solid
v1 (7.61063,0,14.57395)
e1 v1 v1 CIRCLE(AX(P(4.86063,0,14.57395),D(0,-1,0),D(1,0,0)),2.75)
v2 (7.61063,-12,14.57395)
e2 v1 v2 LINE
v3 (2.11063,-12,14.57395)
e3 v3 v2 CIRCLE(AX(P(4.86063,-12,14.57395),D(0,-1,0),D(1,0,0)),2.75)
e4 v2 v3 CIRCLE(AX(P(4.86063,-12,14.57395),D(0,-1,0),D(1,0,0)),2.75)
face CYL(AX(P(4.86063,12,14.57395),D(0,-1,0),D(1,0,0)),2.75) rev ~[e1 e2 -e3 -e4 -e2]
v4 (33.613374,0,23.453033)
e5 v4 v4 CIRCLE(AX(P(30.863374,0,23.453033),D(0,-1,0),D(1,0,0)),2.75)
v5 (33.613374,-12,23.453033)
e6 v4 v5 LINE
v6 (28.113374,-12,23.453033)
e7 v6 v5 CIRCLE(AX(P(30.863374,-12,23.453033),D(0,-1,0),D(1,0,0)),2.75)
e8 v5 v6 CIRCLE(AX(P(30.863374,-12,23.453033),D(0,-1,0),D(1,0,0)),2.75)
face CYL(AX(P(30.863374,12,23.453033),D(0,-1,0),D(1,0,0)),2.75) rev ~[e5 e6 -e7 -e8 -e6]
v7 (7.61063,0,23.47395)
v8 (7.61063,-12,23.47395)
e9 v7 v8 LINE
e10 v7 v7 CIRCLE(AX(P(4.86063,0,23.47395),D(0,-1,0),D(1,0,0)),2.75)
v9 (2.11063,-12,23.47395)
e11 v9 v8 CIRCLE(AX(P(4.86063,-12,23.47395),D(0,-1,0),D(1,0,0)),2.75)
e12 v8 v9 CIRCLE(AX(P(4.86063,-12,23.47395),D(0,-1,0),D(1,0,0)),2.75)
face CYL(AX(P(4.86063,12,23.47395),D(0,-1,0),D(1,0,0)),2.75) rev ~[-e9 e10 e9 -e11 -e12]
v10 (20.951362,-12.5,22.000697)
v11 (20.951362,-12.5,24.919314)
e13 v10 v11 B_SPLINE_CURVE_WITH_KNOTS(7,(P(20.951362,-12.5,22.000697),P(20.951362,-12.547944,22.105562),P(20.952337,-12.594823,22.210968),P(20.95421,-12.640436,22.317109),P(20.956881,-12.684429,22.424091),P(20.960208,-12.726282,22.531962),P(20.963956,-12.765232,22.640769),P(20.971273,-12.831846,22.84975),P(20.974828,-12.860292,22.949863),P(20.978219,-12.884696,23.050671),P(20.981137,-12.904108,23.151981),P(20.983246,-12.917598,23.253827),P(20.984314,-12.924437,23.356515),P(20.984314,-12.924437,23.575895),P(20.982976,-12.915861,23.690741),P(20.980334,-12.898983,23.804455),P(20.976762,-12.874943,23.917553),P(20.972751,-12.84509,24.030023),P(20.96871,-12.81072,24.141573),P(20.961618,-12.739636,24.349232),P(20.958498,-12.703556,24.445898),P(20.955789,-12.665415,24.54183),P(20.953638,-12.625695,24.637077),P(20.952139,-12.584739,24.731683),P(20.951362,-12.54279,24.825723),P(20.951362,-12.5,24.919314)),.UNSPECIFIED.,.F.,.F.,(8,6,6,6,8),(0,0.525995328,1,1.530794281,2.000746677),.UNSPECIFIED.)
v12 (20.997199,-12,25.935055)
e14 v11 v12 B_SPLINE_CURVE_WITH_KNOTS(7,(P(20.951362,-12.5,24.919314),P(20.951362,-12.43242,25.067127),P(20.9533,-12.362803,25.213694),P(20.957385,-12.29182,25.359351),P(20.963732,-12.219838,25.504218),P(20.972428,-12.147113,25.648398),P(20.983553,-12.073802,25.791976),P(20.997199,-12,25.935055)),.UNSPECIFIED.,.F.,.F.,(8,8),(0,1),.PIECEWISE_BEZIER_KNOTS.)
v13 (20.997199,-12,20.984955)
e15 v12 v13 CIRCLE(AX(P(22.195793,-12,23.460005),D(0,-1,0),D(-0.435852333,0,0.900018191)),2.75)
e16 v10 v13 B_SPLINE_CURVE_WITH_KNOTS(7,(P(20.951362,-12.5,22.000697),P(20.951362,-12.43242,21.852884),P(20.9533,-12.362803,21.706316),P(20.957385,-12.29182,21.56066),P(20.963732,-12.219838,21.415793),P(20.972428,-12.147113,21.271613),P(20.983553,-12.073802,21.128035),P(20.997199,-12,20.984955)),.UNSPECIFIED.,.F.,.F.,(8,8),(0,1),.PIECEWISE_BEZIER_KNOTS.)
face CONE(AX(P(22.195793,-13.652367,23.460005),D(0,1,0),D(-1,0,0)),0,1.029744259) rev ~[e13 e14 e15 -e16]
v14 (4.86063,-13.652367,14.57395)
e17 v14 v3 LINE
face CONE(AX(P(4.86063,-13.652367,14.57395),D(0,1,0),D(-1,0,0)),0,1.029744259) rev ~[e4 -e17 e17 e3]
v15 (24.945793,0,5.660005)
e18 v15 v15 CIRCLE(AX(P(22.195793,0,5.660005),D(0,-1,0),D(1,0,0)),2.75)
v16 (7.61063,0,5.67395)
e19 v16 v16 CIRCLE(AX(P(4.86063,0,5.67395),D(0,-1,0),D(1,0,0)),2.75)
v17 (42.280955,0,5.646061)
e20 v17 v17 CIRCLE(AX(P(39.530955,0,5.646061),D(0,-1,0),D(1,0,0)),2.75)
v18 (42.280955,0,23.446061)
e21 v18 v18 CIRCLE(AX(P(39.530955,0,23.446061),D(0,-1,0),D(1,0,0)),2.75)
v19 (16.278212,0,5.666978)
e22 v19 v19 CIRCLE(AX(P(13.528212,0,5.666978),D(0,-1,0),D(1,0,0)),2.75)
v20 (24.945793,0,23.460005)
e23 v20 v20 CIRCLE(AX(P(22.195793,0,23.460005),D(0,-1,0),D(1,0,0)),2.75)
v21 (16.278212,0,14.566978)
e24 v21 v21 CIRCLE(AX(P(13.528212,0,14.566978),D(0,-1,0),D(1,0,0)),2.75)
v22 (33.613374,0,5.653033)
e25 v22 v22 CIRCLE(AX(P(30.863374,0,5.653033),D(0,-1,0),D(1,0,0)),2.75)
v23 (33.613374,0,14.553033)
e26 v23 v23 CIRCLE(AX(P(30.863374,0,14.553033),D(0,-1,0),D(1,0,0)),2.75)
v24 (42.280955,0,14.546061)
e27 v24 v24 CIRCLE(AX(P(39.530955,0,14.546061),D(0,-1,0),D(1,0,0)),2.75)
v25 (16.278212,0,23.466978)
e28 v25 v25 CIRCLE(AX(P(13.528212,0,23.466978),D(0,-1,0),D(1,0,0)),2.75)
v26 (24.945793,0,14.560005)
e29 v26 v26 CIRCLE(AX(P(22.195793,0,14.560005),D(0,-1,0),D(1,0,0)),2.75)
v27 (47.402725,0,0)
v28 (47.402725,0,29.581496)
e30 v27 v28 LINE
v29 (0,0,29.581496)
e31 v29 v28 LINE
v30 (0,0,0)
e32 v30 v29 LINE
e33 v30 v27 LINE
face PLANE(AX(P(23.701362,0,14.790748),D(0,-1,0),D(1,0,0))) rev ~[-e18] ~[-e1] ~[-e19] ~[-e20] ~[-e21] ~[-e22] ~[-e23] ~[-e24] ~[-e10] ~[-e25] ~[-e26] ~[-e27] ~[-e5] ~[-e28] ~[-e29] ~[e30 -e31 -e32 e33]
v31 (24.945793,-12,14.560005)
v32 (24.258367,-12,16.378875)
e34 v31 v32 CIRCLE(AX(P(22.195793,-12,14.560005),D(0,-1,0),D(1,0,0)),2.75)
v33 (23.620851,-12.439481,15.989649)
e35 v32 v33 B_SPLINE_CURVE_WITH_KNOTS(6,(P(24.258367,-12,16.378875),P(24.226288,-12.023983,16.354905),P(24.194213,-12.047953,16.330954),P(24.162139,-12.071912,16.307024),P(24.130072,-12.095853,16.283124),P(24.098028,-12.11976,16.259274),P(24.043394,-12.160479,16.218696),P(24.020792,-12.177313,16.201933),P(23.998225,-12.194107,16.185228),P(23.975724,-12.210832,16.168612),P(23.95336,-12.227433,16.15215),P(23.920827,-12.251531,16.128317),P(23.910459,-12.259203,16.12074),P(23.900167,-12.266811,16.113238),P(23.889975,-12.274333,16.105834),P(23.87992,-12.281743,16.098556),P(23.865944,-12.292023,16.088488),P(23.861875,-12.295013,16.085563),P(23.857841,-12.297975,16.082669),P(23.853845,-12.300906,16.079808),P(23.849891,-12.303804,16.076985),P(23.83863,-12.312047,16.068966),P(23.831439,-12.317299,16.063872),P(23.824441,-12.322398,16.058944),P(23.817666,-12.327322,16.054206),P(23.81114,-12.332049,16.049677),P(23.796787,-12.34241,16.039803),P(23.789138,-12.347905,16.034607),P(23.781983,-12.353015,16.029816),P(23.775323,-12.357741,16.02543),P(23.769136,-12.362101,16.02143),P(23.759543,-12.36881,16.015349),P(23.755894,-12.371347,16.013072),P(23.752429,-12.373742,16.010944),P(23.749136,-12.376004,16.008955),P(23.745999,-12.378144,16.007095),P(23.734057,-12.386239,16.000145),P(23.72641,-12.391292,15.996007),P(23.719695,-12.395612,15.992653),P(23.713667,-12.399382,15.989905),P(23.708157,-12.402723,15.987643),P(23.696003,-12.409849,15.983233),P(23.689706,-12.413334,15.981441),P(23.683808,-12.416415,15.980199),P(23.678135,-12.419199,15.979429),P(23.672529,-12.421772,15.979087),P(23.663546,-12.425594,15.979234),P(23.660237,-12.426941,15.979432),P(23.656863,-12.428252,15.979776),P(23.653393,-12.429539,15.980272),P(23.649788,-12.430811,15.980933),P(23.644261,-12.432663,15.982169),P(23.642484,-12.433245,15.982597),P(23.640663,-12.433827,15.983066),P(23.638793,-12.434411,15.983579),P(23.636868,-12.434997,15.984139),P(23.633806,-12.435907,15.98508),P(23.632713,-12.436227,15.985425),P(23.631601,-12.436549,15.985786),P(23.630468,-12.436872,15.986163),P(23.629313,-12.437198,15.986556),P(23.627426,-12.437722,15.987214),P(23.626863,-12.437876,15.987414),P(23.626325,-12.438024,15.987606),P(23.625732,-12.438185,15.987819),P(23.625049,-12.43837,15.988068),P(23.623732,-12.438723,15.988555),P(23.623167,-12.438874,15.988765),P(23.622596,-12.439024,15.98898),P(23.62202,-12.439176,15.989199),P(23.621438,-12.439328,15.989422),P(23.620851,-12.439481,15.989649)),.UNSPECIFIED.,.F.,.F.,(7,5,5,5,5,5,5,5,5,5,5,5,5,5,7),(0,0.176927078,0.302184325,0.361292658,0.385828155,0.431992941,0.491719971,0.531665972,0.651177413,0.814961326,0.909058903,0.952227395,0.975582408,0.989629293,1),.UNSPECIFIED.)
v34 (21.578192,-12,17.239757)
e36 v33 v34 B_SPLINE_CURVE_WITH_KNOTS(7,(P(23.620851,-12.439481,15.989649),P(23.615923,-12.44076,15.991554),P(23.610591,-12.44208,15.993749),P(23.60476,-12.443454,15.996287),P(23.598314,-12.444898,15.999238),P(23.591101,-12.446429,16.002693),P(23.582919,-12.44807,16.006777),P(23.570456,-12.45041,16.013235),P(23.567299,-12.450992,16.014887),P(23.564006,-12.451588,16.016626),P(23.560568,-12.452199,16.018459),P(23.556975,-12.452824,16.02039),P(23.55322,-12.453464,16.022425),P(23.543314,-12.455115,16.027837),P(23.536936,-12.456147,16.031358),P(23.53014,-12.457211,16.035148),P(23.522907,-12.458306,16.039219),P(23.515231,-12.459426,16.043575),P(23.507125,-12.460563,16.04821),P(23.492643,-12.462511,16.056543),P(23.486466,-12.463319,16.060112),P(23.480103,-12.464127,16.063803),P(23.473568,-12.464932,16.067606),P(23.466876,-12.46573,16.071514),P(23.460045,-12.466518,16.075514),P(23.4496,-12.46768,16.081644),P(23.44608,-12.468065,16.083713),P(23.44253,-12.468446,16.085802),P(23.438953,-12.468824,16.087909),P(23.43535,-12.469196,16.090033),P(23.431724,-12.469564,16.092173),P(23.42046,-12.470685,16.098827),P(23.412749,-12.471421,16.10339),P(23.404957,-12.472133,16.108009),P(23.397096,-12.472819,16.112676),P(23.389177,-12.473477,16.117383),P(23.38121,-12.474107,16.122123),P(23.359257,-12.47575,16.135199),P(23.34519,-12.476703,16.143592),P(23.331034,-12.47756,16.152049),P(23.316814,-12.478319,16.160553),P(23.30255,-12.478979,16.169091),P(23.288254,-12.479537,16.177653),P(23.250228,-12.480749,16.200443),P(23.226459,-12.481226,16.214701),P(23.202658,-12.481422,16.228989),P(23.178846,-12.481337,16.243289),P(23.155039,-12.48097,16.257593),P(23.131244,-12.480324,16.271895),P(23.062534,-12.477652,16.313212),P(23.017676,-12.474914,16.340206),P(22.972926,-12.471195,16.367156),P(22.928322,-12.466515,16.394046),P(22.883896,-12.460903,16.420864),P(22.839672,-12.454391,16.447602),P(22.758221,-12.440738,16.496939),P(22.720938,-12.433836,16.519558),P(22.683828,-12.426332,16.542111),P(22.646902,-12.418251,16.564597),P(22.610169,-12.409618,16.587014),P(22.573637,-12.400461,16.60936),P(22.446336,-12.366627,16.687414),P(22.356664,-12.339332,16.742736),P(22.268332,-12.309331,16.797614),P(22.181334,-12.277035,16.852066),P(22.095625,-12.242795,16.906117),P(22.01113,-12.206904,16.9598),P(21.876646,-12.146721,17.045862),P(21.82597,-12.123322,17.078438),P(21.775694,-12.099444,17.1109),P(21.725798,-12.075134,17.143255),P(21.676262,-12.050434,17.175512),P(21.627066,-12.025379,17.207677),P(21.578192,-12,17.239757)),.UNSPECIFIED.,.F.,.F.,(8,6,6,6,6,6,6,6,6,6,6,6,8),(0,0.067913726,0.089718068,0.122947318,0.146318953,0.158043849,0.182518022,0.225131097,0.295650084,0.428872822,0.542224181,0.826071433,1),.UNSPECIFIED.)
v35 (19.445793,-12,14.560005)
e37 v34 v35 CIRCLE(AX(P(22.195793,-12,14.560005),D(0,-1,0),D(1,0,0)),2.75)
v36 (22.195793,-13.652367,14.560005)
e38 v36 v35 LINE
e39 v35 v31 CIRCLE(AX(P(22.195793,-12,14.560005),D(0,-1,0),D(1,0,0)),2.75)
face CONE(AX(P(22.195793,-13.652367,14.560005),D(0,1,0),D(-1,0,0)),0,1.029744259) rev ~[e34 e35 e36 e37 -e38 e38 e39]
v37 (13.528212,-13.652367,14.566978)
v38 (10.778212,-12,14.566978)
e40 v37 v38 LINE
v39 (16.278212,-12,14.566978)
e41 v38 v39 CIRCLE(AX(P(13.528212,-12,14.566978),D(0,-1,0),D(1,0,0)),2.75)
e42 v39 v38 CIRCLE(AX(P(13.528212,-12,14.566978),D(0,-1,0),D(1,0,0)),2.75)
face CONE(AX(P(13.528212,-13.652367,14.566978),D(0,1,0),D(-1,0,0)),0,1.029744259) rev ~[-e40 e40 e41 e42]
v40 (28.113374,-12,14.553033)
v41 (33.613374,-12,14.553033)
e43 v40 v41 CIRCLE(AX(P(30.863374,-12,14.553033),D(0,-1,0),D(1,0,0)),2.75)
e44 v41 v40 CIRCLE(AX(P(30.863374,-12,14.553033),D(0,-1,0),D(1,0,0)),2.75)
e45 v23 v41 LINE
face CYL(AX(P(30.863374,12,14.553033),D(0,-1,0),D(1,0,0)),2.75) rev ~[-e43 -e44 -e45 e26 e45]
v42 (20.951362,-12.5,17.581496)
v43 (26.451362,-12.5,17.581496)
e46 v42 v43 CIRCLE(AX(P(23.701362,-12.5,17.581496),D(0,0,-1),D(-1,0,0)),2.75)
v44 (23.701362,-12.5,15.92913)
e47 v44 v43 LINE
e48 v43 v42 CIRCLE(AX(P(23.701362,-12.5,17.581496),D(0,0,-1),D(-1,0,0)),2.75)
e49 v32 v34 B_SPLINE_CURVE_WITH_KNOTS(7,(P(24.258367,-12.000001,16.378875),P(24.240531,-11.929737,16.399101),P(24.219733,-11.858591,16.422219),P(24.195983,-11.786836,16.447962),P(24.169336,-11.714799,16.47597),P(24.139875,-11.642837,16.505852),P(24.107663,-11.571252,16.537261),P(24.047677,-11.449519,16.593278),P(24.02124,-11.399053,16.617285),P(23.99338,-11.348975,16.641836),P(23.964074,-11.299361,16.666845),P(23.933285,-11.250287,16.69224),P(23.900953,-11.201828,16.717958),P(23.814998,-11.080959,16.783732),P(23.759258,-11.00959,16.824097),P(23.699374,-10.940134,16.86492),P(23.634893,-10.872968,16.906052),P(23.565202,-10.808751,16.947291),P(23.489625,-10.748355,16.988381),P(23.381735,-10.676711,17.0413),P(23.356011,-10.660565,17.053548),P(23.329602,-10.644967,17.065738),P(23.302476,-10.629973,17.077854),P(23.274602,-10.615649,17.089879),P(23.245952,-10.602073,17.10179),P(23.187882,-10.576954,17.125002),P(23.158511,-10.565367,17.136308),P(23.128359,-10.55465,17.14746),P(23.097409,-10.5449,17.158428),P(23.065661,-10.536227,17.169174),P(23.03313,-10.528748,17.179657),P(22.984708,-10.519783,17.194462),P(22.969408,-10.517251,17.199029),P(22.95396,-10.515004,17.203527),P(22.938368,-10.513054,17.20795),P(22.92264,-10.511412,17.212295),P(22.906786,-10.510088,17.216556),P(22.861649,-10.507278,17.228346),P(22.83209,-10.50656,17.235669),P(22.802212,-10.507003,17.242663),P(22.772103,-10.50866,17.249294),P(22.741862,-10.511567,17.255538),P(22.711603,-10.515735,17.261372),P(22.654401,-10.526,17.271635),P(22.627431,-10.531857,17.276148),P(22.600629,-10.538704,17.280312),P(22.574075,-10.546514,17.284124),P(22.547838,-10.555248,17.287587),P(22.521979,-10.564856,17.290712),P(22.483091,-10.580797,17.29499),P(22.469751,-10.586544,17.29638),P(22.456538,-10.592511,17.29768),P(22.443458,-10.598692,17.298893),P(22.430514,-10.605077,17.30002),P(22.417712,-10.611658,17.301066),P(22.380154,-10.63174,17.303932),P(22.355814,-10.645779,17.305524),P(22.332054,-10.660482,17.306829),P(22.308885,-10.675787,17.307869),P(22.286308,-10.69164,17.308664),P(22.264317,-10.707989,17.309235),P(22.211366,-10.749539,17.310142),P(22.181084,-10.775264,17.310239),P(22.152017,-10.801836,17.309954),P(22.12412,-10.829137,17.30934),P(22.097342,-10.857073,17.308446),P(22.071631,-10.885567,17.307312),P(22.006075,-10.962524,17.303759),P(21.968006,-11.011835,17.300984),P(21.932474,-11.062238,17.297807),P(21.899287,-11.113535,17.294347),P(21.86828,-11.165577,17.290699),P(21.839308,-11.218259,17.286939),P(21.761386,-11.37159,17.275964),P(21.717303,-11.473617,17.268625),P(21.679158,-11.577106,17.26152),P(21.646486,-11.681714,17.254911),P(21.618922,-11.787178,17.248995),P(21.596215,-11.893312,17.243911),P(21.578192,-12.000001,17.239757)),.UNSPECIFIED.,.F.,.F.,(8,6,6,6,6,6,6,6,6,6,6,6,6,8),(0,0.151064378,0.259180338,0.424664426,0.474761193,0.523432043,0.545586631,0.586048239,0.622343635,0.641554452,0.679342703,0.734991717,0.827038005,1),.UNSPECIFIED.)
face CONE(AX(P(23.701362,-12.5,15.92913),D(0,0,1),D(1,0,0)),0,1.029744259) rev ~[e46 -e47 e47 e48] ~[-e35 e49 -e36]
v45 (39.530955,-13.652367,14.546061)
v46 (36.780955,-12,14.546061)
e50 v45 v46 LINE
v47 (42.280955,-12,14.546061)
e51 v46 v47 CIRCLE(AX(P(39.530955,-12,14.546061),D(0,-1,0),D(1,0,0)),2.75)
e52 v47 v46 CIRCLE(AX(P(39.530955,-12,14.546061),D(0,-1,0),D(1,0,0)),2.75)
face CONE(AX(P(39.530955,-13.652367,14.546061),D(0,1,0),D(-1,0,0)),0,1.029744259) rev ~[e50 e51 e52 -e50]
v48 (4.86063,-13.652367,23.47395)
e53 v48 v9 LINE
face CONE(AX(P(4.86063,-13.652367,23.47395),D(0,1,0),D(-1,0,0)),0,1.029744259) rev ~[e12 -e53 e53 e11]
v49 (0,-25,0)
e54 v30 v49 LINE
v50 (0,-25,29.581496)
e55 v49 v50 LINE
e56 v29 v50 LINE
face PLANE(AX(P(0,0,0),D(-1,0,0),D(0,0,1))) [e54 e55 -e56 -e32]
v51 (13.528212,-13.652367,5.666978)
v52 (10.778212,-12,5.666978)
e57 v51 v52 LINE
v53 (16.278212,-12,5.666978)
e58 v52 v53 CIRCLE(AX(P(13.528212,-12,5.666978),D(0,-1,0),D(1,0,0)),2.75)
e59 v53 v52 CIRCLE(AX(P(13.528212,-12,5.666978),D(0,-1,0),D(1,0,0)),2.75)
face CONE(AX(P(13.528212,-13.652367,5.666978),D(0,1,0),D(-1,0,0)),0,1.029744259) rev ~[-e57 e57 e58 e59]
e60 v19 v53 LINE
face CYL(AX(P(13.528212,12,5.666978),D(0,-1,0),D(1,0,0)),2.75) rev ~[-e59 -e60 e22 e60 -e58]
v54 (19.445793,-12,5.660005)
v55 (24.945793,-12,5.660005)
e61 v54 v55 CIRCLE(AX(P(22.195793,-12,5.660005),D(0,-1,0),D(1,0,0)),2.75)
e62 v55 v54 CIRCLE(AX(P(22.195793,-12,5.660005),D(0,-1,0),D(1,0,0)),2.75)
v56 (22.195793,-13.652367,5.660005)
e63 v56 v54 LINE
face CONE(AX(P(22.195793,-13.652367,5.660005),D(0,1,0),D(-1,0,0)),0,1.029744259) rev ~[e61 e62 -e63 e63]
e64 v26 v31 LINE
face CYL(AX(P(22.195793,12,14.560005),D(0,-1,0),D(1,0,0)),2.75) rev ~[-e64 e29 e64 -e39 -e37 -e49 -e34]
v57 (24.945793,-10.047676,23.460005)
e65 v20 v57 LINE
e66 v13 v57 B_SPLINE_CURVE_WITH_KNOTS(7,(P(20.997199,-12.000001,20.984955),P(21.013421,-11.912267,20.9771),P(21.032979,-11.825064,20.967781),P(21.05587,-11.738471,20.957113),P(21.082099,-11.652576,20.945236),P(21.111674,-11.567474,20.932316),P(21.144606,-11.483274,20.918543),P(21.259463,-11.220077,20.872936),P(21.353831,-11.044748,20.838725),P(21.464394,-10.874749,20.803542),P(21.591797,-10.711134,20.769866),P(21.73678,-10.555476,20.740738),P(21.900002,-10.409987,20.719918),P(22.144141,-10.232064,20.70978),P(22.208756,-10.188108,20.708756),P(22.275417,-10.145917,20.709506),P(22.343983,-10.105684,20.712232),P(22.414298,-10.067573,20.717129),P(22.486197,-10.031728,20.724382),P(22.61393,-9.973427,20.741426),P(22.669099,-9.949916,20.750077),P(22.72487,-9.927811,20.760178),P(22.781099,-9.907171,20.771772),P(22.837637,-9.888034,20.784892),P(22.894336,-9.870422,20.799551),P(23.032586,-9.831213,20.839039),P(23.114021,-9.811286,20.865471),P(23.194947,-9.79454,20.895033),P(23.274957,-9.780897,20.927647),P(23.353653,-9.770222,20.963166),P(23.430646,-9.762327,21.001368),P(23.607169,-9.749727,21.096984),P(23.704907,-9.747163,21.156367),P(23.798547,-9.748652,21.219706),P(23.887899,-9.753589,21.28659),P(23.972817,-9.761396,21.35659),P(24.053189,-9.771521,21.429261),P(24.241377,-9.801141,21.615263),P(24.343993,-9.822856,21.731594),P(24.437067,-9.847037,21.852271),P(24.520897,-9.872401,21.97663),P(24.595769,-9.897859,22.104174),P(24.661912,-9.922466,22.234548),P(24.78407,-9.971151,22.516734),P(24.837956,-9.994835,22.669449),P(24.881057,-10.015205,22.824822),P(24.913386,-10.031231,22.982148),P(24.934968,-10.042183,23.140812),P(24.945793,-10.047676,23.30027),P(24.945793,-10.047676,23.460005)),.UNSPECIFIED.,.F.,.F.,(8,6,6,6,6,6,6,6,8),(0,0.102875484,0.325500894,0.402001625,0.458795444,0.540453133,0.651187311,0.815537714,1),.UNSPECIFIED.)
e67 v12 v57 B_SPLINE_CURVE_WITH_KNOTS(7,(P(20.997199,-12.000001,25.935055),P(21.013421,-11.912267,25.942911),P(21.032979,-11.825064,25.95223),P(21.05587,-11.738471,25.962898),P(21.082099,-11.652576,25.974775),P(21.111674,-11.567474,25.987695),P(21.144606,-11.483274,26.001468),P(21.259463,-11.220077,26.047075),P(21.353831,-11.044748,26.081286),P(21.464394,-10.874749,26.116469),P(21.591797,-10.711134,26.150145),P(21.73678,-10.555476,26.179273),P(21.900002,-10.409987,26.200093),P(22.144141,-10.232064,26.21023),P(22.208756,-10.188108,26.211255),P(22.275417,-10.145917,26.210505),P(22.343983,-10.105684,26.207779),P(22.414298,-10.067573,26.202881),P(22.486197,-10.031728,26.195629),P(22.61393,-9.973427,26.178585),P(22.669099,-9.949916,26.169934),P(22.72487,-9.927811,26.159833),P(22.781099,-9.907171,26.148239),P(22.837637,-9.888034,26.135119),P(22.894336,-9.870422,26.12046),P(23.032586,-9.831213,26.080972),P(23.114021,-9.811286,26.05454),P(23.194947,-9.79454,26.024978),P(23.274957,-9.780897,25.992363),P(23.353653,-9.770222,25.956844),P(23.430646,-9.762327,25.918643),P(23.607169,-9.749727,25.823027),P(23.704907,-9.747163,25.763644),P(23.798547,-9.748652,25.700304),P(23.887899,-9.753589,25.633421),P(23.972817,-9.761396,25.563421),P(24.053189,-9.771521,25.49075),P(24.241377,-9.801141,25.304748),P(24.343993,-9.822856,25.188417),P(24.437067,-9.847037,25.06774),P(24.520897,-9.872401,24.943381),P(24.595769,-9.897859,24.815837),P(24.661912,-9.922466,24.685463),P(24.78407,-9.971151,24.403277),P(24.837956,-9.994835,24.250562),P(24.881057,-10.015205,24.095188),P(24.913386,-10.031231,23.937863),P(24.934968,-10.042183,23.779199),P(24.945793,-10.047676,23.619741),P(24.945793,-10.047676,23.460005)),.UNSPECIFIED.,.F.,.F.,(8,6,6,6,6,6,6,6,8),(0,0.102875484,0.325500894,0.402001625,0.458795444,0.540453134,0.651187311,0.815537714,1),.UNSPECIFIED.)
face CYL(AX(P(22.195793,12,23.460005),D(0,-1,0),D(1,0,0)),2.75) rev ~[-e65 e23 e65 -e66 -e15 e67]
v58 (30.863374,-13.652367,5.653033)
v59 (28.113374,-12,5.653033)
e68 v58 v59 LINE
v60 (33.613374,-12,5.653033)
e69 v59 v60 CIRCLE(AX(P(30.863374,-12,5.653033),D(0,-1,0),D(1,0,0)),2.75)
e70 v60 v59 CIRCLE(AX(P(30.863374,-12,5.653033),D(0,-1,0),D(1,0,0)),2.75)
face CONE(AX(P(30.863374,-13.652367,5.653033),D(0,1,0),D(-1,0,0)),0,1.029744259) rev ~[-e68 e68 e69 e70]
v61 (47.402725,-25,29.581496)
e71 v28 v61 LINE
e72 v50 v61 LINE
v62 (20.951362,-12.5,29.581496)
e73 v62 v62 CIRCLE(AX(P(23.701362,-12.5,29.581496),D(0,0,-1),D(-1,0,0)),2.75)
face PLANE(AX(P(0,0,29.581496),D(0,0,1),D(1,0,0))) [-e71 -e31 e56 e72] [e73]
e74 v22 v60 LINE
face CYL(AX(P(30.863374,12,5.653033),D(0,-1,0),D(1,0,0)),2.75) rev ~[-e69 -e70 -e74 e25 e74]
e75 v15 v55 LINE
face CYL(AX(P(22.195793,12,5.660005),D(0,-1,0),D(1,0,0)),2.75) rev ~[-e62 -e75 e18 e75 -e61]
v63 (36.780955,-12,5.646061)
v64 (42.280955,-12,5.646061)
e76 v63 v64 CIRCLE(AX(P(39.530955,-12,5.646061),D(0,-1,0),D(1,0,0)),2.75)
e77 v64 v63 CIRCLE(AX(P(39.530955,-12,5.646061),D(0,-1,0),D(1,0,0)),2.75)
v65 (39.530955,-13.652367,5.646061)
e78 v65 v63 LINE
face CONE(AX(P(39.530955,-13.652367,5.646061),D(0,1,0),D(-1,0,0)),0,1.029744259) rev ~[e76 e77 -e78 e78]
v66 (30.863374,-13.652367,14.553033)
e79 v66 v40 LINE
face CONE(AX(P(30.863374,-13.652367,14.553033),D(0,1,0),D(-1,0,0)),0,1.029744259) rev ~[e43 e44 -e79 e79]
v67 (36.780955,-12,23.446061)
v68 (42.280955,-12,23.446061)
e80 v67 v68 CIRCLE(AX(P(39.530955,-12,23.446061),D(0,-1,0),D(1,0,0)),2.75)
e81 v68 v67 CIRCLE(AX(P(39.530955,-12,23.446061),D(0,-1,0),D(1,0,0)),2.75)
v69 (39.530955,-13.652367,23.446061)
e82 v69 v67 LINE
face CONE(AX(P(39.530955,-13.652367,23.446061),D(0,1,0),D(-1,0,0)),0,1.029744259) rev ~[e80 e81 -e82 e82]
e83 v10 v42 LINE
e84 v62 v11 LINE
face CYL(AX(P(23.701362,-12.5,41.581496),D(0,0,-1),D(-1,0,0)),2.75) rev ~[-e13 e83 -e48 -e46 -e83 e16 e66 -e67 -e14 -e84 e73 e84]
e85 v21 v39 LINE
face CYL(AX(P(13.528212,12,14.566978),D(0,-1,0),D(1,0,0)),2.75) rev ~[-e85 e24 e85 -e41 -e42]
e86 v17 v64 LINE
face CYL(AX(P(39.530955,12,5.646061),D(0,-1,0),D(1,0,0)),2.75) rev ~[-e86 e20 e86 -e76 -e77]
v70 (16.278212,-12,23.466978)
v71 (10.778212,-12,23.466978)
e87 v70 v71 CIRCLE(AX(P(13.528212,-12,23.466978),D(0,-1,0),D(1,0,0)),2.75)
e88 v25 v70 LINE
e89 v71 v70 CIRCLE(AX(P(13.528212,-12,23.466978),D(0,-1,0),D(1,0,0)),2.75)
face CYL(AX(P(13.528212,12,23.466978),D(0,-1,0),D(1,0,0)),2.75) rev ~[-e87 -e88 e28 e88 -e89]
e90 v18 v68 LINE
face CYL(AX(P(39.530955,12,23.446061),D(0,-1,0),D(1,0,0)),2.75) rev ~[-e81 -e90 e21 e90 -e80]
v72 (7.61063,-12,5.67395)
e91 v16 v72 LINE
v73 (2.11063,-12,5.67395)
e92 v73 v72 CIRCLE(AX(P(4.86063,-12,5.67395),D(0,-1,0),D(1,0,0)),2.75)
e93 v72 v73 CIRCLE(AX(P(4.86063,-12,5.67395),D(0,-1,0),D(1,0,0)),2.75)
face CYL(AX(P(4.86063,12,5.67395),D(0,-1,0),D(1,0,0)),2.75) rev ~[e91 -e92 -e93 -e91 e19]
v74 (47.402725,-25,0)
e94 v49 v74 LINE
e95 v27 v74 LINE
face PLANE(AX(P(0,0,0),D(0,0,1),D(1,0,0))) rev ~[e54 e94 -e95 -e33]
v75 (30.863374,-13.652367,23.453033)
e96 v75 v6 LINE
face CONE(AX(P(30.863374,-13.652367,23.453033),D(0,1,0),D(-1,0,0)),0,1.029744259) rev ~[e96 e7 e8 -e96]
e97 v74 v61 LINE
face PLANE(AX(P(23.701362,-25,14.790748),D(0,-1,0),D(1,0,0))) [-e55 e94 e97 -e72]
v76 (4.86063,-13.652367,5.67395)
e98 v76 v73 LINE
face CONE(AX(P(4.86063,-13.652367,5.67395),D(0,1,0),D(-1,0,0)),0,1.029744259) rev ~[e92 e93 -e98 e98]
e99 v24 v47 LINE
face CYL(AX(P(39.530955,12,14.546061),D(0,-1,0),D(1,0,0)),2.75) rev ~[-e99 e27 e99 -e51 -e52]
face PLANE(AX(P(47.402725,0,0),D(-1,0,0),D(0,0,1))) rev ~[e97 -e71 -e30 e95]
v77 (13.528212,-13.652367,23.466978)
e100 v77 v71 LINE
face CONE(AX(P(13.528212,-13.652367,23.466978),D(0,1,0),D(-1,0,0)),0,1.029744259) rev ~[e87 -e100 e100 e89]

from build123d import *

# Parameters (mm, degrees)
F0_W     = 47.4027246237
F0_H     = 29.581496492
F1_DEPTH = 25
F3_D     = 5.5
F3_DEPTH = 12
F3_TIP   = 1.6523667023
F5_D     = 5.5
F5_DEPTH = 12
F5_TIP   = 1.6523667023


with BuildPart() as f1:
    # F0 (on Front) → F1 (new body)
    with BuildSketch(Plane.XZ):
        with Locations((23.7013623118, 14.790748246)):
            Rectangle(F0_W, F0_H)
    extrude(amount=F1_DEPTH)

    # F3
    with Locations(Plane.XY.offset(29.581496492)):
        with Locations((23.7013623118, -12.5)):
            Hole(F3_D / 2, depth=F3_DEPTH)
            with Locations((0, 0, -(F3_DEPTH + F3_TIP / 2))):  # 118° drill point
                Cone(0, F3_D / 2, F3_TIP, mode=Mode.SUBTRACT)

    # F5
    with Locations(Plane(origin=(0, 0, 0), x_dir=(-1, 0, 0), z_dir=(0, 1, 0))):
        with Locations((-39.530955255, 23.4460607171), (-30.8633740127, 23.4530330807), (-22.1957927704, 23.4600054443), (-13.5282115281, 23.4669778079), (-4.8606302857, 23.4739501715), (-39.530955255, 5.6460607171), (-39.530955255, 14.5460607171), (-4.8606302857, 5.6739501715), (-30.8633740127, 14.5530330807), (-4.8606302857, 14.5739501715), (-30.8633740127, 5.6530330807), (-22.1957927704, 14.5600054443), (-13.5282115281, 14.5669778079), (-22.1957927704, 5.6600054443), (-13.5282115281, 5.6669778079)):
            Hole(F5_D / 2, depth=F5_DEPTH)
            with Locations((0, 0, -(F5_DEPTH + F5_TIP / 2))):  # 118° drill point
                Cone(0, F5_D / 2, F5_TIP, mode=Mode.SUBTRACT)


solid = f1.part
